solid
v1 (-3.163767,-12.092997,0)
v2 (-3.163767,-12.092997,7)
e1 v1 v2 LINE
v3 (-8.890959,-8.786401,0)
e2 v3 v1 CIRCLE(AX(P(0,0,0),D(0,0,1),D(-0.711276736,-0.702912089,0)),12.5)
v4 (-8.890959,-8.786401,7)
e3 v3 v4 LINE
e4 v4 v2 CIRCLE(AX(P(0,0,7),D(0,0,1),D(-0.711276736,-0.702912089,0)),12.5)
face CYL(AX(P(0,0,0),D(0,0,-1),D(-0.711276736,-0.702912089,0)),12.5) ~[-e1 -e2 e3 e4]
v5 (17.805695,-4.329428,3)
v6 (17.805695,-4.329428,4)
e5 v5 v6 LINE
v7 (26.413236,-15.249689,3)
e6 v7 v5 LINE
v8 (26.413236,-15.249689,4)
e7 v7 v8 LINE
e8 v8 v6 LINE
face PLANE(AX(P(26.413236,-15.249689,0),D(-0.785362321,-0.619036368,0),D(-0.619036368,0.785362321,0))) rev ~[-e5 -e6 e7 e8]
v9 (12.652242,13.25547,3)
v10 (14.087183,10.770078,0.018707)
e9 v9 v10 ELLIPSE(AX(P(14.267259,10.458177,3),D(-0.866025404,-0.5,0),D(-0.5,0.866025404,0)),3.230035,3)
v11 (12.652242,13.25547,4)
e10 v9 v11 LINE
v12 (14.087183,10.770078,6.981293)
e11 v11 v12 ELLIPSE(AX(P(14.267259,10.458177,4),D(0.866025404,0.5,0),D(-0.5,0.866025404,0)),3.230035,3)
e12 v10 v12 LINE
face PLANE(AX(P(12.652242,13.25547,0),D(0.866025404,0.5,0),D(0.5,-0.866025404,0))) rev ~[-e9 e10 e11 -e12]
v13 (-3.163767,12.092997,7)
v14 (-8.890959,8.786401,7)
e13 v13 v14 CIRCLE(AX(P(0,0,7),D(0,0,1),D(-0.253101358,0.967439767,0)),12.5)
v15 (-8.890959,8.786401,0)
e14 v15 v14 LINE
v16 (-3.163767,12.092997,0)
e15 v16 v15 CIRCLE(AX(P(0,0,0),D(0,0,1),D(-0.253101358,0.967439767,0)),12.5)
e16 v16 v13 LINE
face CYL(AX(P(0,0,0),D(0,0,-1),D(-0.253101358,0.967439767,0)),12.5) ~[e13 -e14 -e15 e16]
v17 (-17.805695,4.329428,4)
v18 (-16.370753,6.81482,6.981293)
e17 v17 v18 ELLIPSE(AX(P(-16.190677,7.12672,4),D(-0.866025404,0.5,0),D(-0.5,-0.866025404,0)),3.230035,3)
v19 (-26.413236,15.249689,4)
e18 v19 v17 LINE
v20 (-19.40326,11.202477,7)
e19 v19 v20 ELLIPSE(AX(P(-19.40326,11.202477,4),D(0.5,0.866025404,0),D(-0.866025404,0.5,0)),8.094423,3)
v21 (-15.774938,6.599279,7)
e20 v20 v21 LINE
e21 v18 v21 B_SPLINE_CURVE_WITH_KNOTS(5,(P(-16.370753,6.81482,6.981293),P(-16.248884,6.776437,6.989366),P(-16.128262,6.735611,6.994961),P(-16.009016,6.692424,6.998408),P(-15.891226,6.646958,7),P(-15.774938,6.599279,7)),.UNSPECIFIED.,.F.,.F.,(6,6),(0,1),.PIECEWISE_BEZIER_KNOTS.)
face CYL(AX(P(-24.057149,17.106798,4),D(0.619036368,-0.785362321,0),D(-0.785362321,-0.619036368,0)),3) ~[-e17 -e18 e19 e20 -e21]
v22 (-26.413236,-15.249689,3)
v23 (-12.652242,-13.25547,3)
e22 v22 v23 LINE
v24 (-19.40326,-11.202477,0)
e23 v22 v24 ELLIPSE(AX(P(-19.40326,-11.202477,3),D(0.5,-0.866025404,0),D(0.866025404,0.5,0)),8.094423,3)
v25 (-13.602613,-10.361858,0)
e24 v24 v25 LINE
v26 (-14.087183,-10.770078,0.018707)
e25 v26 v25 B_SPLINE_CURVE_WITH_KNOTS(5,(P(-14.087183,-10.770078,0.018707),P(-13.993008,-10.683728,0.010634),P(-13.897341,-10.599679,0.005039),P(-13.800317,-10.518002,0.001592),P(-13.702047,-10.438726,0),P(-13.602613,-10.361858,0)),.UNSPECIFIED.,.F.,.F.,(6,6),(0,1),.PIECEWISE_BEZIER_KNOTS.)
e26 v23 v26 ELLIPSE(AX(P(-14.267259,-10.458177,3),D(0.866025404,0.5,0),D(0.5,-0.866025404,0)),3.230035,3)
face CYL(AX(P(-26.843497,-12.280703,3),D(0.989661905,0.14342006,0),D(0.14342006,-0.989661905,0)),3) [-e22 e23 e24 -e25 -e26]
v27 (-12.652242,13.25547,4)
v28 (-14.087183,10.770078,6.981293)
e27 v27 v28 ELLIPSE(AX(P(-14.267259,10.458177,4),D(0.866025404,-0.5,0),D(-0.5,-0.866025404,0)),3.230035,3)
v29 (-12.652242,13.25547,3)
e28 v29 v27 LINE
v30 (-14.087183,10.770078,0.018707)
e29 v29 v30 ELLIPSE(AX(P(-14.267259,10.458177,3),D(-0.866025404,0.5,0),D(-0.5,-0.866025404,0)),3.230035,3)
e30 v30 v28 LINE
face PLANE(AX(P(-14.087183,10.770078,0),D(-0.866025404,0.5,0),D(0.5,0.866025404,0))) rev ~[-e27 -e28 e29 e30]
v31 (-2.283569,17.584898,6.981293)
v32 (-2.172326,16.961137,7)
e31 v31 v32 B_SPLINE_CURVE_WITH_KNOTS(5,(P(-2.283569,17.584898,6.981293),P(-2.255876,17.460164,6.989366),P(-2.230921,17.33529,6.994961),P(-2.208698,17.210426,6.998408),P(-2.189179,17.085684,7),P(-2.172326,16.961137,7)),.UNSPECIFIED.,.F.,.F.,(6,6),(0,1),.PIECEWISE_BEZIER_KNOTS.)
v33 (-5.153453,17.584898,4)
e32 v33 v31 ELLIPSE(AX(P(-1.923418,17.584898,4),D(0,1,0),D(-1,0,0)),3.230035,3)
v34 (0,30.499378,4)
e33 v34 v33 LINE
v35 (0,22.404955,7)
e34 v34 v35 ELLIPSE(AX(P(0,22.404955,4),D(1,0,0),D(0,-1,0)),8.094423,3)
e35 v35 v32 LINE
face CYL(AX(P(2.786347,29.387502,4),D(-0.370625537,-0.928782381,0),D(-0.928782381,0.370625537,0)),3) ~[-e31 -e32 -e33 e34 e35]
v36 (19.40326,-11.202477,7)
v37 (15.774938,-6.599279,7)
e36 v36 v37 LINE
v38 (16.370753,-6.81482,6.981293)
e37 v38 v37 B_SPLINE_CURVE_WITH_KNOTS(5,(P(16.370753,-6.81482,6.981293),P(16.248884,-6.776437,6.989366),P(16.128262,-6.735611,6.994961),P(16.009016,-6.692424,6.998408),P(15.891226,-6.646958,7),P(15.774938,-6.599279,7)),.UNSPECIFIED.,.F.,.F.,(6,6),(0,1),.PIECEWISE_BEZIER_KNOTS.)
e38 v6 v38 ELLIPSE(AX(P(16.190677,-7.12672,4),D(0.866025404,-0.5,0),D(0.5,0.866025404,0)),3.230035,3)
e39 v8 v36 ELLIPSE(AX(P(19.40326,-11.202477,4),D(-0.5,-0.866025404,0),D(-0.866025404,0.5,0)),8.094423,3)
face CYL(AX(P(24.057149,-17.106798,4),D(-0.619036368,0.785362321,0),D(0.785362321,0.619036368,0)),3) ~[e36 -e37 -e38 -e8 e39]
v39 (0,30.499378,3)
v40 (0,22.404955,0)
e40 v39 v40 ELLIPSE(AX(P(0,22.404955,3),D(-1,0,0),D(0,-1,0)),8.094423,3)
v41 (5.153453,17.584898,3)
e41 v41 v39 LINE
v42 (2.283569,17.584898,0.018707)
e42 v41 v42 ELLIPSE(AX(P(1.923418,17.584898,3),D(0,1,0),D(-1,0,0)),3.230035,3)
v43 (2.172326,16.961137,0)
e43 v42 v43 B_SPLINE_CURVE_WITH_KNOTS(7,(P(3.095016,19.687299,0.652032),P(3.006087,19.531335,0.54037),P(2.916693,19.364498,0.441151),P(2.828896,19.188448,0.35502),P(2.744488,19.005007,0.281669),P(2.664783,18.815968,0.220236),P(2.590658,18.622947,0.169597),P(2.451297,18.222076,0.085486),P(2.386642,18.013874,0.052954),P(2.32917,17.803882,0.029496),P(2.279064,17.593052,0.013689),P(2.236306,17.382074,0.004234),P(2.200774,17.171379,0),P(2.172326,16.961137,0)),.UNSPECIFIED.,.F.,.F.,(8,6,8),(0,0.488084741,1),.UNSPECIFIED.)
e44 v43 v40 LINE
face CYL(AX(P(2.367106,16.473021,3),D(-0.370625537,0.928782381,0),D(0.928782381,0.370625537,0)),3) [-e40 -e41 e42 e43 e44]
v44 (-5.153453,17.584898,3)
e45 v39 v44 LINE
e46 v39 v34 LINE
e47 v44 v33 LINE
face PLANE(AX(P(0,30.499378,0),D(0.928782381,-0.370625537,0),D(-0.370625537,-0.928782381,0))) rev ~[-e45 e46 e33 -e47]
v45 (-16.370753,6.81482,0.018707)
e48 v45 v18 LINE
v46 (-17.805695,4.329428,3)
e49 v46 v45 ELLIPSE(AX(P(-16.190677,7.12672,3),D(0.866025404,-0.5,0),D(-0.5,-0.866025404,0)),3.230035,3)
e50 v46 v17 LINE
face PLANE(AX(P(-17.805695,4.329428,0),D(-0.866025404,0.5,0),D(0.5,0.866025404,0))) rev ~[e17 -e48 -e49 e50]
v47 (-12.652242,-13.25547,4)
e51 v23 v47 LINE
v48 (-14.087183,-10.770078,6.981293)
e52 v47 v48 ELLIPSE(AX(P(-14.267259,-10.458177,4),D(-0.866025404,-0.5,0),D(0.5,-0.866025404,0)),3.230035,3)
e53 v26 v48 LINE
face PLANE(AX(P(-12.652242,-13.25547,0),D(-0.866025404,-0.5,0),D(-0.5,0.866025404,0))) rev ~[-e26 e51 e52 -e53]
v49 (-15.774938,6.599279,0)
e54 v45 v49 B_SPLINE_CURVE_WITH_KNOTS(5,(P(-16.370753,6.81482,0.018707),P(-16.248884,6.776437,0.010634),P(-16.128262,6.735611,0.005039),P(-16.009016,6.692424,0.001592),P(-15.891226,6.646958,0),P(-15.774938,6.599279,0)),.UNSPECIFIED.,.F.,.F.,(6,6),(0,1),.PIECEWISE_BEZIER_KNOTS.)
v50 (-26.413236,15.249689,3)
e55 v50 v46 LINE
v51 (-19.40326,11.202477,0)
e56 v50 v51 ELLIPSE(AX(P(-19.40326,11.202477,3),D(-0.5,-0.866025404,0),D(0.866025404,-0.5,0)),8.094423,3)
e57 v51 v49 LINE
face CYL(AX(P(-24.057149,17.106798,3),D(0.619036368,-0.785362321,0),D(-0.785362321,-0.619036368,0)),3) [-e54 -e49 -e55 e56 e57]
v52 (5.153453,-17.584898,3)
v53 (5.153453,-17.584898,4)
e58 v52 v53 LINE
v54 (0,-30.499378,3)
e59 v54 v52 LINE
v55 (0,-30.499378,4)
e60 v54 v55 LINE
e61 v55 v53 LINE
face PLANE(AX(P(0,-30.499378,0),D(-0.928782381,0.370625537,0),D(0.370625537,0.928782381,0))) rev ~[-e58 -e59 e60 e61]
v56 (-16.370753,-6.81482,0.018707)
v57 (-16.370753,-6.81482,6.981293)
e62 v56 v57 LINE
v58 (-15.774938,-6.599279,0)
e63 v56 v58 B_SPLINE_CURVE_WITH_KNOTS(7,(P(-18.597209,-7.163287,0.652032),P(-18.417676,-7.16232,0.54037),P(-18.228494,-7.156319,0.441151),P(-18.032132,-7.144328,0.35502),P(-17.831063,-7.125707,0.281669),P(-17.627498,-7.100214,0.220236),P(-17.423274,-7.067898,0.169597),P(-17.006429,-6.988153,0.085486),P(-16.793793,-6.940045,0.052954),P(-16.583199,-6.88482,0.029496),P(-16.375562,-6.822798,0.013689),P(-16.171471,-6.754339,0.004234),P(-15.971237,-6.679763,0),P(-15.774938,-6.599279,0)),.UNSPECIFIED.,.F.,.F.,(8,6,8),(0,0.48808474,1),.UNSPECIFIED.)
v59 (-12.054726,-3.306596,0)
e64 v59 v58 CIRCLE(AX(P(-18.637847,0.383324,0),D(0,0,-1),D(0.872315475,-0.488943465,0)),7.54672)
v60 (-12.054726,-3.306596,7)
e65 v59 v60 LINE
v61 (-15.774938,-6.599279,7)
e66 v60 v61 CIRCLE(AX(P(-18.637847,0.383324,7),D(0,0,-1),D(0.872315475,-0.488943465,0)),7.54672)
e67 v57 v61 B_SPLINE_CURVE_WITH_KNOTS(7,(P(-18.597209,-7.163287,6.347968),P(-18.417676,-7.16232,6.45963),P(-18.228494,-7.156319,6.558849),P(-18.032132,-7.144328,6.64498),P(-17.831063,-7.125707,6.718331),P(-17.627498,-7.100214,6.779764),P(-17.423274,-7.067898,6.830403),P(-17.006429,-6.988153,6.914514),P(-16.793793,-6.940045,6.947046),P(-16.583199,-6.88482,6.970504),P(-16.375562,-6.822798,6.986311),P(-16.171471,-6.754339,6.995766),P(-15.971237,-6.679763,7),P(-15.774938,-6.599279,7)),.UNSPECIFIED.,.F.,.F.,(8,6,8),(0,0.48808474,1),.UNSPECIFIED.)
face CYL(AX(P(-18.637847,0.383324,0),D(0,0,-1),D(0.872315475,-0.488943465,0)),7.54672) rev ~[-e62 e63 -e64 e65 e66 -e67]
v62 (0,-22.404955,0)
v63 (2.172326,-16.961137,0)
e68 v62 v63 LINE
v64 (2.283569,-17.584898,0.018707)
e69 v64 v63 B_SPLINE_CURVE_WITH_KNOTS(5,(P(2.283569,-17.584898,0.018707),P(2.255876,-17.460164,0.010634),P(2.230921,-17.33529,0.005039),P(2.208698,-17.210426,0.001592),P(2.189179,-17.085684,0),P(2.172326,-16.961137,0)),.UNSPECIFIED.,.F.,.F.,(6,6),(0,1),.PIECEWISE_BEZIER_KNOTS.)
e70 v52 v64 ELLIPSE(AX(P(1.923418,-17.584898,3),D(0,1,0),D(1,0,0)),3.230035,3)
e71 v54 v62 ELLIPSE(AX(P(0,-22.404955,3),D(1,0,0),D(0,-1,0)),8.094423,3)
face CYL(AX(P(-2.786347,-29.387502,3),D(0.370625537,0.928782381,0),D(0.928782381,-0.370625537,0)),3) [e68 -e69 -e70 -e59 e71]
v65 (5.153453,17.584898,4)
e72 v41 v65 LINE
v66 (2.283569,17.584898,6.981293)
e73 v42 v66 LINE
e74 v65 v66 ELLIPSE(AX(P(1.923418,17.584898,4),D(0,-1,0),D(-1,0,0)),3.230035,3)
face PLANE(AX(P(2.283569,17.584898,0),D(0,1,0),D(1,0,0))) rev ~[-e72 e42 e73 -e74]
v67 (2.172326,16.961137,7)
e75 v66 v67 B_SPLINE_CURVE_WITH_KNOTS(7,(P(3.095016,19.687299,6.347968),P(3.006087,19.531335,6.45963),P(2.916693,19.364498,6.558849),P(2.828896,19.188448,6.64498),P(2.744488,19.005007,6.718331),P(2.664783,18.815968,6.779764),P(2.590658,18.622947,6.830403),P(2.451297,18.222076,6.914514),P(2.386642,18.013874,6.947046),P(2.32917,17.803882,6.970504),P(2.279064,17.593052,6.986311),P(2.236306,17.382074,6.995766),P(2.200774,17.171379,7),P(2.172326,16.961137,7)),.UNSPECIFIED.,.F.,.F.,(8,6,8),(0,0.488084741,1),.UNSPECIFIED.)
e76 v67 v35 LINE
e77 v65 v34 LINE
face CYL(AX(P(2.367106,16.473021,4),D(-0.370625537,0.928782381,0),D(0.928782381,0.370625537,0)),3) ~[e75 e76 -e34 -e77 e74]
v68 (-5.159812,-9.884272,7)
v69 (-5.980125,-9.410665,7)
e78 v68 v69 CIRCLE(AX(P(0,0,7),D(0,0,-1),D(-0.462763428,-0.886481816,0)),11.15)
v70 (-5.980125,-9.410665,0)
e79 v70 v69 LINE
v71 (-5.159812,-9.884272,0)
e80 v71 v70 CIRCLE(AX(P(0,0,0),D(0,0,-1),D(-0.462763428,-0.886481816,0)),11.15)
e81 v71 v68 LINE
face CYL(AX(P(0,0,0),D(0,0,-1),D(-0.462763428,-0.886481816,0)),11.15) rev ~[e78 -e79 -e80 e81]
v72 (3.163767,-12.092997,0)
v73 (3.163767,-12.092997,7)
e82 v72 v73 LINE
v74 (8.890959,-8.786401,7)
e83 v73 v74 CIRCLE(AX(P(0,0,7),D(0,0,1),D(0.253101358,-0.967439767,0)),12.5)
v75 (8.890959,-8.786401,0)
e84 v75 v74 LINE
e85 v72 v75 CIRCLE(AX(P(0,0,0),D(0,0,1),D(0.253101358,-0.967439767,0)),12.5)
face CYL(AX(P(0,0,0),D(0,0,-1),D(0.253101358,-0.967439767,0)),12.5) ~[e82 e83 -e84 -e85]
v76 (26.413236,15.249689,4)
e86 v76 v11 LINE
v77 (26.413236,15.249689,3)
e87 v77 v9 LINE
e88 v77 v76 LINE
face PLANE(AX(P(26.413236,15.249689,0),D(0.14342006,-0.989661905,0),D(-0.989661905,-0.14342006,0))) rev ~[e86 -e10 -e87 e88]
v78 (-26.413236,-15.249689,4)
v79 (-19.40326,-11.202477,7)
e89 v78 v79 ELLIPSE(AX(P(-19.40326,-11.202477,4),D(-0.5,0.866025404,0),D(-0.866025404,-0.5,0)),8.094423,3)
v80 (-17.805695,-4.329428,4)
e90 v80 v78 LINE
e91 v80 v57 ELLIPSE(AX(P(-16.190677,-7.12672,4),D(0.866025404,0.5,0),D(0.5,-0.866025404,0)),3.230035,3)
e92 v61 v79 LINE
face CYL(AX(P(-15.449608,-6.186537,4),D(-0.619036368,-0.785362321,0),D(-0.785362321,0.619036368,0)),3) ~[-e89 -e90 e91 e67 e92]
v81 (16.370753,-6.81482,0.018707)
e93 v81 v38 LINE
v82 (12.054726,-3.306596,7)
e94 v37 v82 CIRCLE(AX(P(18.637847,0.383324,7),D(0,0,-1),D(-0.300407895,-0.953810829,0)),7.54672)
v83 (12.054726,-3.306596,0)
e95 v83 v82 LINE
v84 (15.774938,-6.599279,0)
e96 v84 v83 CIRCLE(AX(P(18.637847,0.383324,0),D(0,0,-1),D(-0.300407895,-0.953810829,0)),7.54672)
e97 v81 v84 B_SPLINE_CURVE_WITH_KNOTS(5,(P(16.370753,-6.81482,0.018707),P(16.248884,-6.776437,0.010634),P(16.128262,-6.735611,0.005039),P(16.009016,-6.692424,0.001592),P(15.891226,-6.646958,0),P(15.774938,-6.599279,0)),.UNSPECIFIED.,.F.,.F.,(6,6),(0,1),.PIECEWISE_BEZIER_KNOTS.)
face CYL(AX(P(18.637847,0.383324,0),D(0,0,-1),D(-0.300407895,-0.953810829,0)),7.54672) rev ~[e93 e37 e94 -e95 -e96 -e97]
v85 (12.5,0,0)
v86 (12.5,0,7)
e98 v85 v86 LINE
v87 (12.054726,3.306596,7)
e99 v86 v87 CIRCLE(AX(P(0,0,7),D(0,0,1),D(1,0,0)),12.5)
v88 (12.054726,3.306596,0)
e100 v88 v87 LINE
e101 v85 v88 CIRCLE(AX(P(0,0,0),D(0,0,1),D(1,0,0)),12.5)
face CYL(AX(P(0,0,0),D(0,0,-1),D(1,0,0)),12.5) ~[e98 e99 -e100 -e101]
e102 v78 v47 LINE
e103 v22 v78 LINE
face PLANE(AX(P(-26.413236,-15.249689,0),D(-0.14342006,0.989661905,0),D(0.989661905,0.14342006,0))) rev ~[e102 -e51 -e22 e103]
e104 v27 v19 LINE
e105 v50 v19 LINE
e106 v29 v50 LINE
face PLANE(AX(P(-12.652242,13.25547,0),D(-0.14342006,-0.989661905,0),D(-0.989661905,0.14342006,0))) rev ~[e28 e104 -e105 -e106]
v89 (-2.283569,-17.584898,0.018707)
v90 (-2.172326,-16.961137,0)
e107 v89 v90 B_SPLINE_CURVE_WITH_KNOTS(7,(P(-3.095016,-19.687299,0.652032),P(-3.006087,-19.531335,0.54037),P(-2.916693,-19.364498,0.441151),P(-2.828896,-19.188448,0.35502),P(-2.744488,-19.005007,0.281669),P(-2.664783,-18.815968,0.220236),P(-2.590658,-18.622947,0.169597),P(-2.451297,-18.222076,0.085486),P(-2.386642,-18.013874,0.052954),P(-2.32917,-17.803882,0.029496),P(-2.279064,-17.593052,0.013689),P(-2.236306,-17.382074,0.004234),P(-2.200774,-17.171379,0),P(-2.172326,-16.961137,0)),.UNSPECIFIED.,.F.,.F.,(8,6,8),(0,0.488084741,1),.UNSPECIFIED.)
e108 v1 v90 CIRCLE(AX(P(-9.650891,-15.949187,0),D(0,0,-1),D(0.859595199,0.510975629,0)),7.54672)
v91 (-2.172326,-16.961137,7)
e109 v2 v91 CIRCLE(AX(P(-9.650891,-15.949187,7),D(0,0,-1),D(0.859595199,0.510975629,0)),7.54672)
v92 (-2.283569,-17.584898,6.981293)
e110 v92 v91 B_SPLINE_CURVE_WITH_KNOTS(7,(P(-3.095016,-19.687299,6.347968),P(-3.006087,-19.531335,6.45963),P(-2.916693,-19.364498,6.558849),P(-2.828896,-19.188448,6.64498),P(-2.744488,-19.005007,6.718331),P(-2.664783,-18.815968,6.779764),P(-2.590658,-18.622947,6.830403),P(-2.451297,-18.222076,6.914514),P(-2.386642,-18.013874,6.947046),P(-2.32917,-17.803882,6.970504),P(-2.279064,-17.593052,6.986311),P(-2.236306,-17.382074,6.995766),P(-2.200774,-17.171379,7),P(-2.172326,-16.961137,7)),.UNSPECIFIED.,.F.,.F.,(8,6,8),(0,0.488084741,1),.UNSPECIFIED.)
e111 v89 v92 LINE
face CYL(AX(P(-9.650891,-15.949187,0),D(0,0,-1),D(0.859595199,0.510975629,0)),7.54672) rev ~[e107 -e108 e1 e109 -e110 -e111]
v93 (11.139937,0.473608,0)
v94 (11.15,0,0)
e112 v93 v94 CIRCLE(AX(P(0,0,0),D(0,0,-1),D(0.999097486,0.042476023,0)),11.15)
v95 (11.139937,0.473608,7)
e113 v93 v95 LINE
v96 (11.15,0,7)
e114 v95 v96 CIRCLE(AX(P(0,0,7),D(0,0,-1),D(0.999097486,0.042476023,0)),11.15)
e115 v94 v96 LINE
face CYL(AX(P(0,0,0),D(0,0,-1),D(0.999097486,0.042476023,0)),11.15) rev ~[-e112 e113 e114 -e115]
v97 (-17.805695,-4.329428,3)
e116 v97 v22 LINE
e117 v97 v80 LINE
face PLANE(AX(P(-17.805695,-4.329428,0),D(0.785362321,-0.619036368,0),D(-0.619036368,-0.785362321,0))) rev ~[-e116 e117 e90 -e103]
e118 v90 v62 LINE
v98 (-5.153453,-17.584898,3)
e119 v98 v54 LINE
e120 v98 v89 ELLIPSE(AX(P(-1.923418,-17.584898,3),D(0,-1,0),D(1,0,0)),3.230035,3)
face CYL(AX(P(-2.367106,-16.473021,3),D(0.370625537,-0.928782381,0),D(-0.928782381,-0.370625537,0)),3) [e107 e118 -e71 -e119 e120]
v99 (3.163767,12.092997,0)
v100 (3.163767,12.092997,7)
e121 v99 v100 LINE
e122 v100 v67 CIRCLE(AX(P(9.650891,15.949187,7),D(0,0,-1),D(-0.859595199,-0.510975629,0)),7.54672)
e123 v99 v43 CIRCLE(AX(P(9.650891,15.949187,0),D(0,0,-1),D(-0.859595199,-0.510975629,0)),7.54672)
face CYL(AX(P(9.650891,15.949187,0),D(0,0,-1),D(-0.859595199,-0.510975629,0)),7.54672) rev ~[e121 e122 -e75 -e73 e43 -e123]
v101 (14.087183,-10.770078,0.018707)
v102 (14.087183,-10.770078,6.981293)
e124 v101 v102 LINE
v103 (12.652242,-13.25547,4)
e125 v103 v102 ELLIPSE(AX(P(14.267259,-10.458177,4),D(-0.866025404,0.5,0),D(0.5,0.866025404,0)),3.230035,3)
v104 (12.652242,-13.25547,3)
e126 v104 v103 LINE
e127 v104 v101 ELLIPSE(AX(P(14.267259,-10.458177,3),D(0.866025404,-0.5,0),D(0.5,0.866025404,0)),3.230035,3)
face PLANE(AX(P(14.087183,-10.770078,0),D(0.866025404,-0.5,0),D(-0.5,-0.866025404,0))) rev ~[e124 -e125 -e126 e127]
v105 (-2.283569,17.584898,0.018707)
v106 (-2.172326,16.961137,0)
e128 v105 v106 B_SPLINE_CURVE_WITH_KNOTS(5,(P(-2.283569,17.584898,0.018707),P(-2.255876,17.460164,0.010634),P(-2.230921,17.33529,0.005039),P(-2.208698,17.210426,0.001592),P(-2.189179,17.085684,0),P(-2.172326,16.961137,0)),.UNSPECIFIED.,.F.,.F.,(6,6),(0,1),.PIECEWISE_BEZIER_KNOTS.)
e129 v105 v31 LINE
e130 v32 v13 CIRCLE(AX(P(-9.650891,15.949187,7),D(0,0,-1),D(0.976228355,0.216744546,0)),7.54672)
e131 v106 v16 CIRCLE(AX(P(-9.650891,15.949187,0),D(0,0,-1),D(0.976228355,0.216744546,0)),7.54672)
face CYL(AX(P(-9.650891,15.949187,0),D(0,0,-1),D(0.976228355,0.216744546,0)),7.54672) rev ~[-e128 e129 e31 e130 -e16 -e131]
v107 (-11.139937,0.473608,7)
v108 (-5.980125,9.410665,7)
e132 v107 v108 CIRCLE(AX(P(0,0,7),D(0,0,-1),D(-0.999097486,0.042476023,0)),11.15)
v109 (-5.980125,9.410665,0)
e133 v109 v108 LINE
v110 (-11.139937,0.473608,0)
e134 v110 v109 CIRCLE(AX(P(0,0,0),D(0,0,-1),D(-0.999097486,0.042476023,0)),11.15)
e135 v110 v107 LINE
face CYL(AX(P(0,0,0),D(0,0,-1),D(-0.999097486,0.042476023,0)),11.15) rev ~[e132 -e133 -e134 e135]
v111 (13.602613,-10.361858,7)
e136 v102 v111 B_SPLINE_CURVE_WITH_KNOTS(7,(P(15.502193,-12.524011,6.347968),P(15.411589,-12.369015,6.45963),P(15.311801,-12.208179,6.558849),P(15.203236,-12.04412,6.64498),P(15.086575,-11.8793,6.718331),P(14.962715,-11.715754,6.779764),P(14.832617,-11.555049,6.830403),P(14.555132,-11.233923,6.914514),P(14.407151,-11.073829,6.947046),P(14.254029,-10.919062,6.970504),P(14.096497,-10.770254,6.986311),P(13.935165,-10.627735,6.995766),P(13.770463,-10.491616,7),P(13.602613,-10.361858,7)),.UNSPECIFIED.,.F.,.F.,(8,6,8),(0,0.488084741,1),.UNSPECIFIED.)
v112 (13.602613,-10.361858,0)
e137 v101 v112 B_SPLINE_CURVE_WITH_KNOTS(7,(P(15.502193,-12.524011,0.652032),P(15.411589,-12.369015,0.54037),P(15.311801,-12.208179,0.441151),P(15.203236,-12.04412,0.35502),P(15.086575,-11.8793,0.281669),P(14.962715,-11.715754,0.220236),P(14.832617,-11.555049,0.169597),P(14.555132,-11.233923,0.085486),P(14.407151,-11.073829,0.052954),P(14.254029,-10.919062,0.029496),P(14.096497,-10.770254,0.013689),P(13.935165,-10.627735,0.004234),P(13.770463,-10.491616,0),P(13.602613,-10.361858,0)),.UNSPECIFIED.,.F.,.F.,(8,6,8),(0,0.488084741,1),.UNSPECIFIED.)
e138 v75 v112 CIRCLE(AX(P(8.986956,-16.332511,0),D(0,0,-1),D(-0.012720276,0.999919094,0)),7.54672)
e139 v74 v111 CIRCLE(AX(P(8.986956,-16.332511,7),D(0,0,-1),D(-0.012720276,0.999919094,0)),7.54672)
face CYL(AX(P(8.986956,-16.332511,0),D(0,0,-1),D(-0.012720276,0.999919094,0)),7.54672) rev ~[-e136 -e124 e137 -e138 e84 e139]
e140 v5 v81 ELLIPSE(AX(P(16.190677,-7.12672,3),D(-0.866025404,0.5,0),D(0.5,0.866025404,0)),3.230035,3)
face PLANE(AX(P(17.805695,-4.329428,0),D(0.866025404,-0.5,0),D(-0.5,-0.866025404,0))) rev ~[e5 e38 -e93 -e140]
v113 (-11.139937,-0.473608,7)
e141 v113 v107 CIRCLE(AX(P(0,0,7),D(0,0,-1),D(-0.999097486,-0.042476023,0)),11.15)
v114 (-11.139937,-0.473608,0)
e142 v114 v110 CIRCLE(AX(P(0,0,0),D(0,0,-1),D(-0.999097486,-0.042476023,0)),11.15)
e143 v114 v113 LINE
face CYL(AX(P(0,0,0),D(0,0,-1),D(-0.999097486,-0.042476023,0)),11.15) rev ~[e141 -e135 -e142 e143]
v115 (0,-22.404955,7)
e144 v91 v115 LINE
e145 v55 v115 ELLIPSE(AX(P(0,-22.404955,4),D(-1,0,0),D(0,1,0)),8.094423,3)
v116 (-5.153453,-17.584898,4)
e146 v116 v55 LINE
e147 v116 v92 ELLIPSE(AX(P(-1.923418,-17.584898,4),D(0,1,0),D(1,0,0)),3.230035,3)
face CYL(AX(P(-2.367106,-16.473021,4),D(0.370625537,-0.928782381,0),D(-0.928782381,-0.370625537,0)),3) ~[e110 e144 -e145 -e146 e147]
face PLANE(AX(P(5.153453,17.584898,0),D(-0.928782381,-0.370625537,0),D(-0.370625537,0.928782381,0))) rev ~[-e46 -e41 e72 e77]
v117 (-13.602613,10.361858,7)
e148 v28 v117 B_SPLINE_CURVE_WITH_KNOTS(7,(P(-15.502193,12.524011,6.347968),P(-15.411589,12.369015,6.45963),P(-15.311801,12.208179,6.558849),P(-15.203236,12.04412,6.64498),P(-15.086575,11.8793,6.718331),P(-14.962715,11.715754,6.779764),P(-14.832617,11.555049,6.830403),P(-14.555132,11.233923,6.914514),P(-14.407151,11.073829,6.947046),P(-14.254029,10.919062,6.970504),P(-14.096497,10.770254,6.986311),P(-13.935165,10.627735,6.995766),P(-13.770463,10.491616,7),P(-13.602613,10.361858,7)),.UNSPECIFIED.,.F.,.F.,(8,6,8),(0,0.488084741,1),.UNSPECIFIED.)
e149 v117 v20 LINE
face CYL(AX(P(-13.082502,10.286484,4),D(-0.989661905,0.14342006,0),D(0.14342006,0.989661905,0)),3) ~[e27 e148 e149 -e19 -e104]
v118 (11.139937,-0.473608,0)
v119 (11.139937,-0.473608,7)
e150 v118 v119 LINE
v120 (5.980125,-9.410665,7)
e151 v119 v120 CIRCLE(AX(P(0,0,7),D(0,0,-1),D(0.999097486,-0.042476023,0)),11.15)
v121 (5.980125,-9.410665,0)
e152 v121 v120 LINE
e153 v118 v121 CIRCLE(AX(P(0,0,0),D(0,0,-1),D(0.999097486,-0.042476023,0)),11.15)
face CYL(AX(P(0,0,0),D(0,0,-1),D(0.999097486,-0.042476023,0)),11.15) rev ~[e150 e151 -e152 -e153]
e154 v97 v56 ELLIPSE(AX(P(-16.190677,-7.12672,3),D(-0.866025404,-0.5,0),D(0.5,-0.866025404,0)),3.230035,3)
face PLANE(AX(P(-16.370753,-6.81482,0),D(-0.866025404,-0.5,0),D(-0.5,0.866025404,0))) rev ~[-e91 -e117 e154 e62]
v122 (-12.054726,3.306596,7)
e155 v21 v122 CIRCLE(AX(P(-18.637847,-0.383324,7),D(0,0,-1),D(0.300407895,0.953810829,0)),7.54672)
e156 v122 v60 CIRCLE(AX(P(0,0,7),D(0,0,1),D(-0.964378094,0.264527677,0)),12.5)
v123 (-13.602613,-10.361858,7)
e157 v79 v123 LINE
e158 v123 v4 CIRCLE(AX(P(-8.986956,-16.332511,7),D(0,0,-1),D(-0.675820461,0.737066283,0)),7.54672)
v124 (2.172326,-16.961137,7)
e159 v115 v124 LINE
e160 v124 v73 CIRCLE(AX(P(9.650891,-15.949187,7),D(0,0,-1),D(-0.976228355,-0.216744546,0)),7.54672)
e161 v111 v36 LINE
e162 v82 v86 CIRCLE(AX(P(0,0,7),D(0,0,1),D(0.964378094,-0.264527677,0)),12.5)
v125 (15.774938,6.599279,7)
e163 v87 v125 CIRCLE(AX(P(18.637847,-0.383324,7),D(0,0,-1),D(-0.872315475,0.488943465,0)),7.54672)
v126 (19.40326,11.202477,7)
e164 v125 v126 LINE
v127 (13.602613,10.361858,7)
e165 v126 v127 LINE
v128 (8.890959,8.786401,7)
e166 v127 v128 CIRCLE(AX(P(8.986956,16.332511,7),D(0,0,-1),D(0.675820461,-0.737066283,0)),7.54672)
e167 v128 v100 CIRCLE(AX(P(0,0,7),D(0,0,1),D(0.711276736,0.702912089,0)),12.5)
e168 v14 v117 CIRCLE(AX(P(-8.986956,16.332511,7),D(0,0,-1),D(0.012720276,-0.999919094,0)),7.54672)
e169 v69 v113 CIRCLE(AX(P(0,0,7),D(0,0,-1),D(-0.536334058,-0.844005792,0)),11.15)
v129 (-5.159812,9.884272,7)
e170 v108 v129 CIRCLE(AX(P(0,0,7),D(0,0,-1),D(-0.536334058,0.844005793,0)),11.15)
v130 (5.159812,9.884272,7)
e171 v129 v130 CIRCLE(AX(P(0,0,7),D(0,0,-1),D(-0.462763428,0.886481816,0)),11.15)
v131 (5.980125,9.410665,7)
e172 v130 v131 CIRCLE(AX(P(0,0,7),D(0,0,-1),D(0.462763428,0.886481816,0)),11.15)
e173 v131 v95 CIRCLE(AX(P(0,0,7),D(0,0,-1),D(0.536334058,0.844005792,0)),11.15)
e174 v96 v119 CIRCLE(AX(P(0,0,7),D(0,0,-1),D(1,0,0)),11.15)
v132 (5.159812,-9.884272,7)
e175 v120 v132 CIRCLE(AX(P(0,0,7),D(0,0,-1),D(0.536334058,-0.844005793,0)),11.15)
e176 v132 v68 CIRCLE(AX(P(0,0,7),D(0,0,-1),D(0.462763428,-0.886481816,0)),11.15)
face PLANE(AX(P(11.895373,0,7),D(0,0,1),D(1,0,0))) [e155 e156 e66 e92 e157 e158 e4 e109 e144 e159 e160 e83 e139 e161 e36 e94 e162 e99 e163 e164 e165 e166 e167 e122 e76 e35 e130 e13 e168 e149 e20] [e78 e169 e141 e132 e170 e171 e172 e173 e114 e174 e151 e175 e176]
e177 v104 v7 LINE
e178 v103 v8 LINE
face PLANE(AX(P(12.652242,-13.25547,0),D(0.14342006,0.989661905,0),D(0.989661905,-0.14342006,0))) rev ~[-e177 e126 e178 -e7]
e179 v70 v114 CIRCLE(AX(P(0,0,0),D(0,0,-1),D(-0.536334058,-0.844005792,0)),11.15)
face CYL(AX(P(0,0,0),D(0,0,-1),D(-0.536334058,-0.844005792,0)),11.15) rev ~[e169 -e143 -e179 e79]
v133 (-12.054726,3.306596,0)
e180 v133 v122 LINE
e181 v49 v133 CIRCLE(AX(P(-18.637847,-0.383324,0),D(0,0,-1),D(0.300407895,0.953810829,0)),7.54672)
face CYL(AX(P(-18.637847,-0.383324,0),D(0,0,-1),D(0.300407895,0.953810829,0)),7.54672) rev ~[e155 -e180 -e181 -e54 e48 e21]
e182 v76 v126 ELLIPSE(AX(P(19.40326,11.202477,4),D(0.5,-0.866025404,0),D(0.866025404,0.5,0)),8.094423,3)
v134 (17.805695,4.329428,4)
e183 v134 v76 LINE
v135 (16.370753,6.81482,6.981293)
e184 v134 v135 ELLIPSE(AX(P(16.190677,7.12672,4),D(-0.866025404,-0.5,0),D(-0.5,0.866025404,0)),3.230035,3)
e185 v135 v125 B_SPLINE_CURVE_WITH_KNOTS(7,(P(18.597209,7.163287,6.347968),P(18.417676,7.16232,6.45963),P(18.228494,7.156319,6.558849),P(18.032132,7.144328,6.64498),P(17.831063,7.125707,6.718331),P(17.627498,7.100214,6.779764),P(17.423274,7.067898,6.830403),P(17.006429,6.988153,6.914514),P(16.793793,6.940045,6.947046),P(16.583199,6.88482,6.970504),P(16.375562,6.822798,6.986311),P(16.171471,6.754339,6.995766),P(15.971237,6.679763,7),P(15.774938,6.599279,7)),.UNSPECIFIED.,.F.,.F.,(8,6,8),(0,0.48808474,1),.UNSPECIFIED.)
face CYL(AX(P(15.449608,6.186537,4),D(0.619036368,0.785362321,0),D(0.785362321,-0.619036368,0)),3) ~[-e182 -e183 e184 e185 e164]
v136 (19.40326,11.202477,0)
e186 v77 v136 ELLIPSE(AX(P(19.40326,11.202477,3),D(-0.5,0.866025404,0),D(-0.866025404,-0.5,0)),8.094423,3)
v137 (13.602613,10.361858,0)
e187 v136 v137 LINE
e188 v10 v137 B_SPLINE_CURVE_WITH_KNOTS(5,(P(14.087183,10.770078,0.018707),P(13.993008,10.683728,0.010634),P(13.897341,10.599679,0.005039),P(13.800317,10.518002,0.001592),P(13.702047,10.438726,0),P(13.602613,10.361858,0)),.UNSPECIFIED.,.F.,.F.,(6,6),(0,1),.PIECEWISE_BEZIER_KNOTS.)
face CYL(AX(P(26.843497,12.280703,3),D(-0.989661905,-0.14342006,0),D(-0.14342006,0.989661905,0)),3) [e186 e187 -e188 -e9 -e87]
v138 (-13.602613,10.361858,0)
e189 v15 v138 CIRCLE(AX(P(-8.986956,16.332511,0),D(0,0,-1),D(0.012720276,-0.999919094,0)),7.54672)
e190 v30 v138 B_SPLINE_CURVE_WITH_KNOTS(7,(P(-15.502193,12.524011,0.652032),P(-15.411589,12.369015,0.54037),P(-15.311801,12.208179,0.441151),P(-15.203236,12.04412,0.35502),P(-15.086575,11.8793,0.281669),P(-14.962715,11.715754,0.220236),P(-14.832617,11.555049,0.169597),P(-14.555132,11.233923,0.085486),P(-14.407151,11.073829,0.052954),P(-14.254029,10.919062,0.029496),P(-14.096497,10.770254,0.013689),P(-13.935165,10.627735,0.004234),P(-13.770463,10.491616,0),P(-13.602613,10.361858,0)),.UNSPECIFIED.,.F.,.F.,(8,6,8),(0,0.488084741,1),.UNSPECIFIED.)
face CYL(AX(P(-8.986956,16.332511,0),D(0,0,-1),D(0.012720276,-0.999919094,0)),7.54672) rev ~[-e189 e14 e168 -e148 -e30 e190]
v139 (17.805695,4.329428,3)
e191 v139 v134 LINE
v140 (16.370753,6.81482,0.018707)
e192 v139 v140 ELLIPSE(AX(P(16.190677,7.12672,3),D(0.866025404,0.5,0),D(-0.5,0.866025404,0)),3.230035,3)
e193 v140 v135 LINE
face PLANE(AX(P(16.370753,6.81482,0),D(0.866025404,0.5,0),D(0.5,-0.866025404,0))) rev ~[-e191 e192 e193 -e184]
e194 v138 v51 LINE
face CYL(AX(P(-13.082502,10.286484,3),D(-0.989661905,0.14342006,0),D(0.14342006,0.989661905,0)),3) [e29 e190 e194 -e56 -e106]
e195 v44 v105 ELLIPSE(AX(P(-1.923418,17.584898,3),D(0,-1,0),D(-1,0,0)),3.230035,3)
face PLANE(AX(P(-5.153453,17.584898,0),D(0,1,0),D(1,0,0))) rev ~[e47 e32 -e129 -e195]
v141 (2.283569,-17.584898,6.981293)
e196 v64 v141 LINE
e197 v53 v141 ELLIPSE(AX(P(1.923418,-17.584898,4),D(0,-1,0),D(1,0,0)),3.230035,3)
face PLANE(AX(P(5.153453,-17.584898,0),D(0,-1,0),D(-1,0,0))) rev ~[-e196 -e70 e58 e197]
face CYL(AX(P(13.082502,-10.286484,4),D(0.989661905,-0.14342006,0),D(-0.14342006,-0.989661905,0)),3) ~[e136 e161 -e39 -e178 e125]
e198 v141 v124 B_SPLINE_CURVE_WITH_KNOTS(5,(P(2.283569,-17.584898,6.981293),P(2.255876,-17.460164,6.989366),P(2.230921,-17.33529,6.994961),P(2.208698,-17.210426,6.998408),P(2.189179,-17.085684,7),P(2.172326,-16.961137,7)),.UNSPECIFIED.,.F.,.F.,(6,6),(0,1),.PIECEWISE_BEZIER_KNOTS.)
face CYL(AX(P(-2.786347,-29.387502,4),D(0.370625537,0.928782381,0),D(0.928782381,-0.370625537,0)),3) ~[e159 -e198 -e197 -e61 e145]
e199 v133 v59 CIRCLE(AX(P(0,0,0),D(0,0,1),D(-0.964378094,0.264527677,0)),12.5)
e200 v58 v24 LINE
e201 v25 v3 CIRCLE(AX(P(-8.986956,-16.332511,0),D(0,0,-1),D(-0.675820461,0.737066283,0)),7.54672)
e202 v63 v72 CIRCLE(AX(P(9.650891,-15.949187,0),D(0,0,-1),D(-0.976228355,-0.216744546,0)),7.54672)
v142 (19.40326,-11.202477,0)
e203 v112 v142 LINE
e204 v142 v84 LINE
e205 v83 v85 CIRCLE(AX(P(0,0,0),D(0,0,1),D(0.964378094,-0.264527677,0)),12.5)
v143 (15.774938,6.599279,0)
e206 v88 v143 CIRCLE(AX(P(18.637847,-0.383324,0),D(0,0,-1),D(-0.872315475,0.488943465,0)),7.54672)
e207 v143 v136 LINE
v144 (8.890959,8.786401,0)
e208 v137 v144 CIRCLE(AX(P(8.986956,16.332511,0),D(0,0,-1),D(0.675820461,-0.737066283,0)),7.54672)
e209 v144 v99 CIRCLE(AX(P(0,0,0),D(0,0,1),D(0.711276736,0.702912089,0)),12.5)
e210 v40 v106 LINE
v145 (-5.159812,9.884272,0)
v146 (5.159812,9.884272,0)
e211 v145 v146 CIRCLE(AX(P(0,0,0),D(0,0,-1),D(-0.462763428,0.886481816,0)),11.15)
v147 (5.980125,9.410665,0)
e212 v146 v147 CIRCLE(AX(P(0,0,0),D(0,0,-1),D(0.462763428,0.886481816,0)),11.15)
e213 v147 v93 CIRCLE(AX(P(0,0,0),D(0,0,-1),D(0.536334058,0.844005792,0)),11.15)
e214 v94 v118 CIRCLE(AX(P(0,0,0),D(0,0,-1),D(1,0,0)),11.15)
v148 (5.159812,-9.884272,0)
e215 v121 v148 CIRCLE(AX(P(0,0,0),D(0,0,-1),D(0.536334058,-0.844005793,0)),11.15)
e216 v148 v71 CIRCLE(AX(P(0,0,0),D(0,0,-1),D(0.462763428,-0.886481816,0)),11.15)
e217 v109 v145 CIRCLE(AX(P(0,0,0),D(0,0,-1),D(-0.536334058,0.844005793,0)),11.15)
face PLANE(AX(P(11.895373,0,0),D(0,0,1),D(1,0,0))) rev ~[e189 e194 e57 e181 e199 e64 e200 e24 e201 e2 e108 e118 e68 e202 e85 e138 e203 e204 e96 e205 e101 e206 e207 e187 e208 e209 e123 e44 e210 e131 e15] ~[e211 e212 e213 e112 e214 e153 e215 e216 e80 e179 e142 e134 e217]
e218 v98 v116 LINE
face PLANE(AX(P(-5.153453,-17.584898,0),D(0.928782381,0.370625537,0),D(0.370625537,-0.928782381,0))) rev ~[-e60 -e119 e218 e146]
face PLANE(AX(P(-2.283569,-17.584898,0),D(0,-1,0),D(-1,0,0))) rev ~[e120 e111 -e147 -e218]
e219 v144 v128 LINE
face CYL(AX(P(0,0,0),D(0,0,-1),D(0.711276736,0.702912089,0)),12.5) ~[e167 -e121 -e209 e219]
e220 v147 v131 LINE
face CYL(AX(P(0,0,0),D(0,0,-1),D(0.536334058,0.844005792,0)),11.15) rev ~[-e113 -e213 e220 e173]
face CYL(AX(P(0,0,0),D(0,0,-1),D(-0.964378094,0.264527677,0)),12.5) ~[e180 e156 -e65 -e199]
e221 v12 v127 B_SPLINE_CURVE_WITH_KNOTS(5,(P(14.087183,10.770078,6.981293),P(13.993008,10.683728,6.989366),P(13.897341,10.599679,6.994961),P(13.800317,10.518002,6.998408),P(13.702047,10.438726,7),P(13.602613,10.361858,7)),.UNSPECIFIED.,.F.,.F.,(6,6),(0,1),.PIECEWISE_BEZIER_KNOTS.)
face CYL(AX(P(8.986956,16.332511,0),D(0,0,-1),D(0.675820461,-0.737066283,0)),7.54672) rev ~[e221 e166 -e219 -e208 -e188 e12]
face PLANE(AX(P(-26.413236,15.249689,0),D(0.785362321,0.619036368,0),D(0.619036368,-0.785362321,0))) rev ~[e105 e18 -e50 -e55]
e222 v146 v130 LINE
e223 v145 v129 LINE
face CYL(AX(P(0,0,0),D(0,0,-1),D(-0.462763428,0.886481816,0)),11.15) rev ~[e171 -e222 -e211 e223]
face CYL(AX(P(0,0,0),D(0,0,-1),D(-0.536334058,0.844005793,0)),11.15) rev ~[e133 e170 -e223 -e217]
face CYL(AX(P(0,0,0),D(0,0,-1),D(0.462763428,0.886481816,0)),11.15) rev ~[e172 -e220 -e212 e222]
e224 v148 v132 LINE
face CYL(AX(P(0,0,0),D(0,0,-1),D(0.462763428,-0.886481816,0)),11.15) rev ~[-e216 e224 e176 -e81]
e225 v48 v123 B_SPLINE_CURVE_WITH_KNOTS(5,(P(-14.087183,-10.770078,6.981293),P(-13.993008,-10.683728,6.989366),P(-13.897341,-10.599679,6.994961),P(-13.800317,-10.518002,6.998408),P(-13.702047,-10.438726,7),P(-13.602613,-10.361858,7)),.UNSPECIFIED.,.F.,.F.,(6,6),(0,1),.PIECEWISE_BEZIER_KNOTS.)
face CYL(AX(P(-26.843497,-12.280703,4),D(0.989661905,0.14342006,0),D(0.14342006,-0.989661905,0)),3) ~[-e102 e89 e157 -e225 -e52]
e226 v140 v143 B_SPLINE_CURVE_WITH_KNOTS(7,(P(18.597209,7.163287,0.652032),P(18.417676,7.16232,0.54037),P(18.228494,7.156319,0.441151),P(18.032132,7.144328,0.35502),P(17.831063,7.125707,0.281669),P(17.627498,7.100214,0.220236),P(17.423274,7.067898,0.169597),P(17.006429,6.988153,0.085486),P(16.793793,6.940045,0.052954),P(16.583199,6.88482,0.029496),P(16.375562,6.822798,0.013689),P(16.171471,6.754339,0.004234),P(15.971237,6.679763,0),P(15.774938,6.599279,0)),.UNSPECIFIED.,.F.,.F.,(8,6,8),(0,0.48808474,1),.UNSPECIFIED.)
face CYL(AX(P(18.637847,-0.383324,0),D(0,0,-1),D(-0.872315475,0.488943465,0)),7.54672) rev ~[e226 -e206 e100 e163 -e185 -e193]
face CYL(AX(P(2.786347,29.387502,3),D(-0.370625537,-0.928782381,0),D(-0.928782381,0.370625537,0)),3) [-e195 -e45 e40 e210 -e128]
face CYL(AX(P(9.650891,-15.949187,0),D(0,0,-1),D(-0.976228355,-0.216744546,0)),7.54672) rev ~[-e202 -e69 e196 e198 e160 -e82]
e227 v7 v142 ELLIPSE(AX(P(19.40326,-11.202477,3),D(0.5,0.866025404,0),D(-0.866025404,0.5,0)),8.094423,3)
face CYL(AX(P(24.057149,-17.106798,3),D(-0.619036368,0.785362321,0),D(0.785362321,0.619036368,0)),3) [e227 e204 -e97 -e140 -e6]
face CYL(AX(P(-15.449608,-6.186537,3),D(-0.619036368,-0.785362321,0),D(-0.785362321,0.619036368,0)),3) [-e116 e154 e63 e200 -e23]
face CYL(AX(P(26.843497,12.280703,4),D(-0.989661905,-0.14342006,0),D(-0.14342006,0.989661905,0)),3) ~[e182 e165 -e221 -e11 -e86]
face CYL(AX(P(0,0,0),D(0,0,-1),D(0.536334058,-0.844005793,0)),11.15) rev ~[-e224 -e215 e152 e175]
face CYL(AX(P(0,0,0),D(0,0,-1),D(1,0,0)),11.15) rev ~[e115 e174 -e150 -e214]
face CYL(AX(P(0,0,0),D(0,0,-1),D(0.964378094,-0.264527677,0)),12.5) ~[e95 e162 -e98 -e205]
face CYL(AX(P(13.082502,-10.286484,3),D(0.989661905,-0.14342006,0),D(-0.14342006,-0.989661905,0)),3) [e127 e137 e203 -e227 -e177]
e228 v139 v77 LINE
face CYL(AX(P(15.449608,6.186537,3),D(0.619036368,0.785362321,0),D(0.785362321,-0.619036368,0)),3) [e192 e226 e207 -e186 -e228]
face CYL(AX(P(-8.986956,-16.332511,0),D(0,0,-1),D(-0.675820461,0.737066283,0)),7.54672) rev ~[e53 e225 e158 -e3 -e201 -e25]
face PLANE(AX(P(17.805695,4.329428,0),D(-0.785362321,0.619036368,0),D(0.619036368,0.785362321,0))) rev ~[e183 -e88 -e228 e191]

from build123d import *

# Parameters (mm, degrees)
F1_DEPTH = 7
F2_R     = 3


with BuildPart() as f1:
    # F0 (on Top) → F1 (new body)
    with BuildSketch(Plane.XY):
        with BuildLine():
            ThreePointArc((11.139936974, 0.4736076595), (11.1474839596, 0.2368572775), (11.15, 0))
            ThreePointArc((11.15, 0), (11.1474839596, -0.2368572775), (11.139936974, -0.4736076595))
            ThreePointArc((11.139936974, -0.4736076595), (11.4562515521, -1.9356574125), (12.0547261732, -3.306595967))
            ThreePointArc((12.0547261732, -3.306595967), (12.3881814074, -1.6682210338), (12.5, 0))
            ThreePointArc((12.5, 0), (12.3881814074, 1.6682210338), (12.0547261732, 3.306595967))
            ThreePointArc((12.0547261732, 3.306595967), (11.4562515521, 1.9356574125), (11.139936974, 0.4736076595))
        make_face()
        with BuildLine():
            ThreePointArc((5.9801247516, 9.4106645863), (9.6561832522, 5.575), (11.139936974, 0.4736076595))
            ThreePointArc((11.139936974, 0.4736076595), (11.4562515521, 1.9356574125), (12.0547261732, 3.306595967))
            ThreePointArc((12.0547261732, 3.306595967), (10.8253175473, 6.25), (8.8909591941, 8.7864011181))
            ThreePointArc((8.8909591941, 8.7864011181), (7.4044542683, 8.9535761701), (5.9801247516, 9.4106645863))
        make_face()
        with BuildLine():
            ThreePointArc((12.0547261732, -3.306595967), (11.4562515521, -1.9356574125), (11.139936974, -0.4736076595))
            ThreePointArc((11.139936974, -0.4736076595), (9.6561832522, -5.575), (5.9801247516, -9.4106645863))
            ThreePointArc((5.9801247516, -9.4106645863), (7.4044542683, -8.9535761701), (8.8909591941, -8.7864011181))
            ThreePointArc((8.8909591941, -8.7864011181), (10.8253175473, -6.25), (12.0547261732, -3.306595967))
        make_face()
        with BuildLine():
            ThreePointArc((5.1598122224, 9.8842722458), (5.575, 9.6561832522), (5.9801247516, 9.4106645863))
            ThreePointArc((5.9801247516, 9.4106645863), (7.4044542683, 8.9535761701), (8.8909591941, 8.7864011181))
            ThreePointArc((8.8909591941, 8.7864011181), (6.25, 10.8253175473), (3.1637669791, 12.0929970852))
            ThreePointArc((3.1637669791, 12.0929970852), (4.0517972839, 10.8892335825), (5.1598122224, 9.8842722458))
        make_face()
        with BuildLine():
            ThreePointArc((8.8909591941, 8.7864011181), (10.8253175473, 6.25), (12.0547261732, 3.306595967))
            ThreePointArc((12.0547261732, 3.306595967), (13.8777539277, 5.4728270333), (16.3707526215, 6.8148198569))
            Line((16.3707526215, 6.8148198569), (17.8056945141, 4.3294275931))
            Line((17.8056945141, 4.3294275931), (26.4132363375, 15.2496891096))
            Line((26.4132363375, 15.2496891096), (12.6522415365, 13.2554699846))
            Line((12.6522415365, 13.2554699846), (14.087183429, 10.7700777209))
            ThreePointArc((14.087183429, 10.7700777209), (11.6784842052, 9.2820739322), (8.8909591941, 8.7864011181))
        make_face()
        with BuildLine():
            ThreePointArc((8.8909591941, -8.7864011181), (7.4044542683, -8.9535761701), (5.9801247516, -9.4106645863))
            ThreePointArc((5.9801247516, -9.4106645863), (5.575, -9.6561832522), (5.1598122224, -9.8842722458))
            ThreePointArc((5.1598122224, -9.8842722458), (4.0517972839, -10.8892335825), (3.1637669791, -12.0929970852))
            ThreePointArc((3.1637669791, -12.0929970852), (6.25, -10.8253175473), (8.8909591941, -8.7864011181))
        make_face()
        with BuildLine():
            ThreePointArc((16.3707526215, -6.8148198569), (13.8777539277, -5.4728270333), (12.0547261732, -3.306595967))
            ThreePointArc((12.0547261732, -3.306595967), (10.8253175473, -6.25), (8.8909591941, -8.7864011181))
            ThreePointArc((8.8909591941, -8.7864011181), (11.6784842052, -9.2820739322), (14.087183429, -10.7700777209))
            Line((14.087183429, -10.7700777209), (12.6522415365, -13.2554699846))
            Line((12.6522415365, -13.2554699846), (26.4132363375, -15.2496891096))
            Line((26.4132363375, -15.2496891096), (17.8056945141, -4.3294275931))
            Line((17.8056945141, -4.3294275931), (16.3707526215, -6.8148198569))
        make_face()
        with BuildLine():
            ThreePointArc((-5.1598122224, 9.8842722458), (0, 11.15), (5.1598122224, 9.8842722458))
            ThreePointArc((5.1598122224, 9.8842722458), (4.0517972839, 10.8892335825), (3.1637669791, 12.0929970852))
            ThreePointArc((3.1637669791, 12.0929970852), (0, 12.5), (-3.1637669791, 12.0929970852))
            ThreePointArc((-3.1637669791, 12.0929970852), (-4.0517972839, 10.8892335825), (-5.1598122224, 9.8842722458))
        make_face()
        with BuildLine():
            ThreePointArc((3.1637669791, -12.0929970852), (4.0517972839, -10.8892335825), (5.1598122224, -9.8842722458))
            ThreePointArc((5.1598122224, -9.8842722458), (0, -11.15), (-5.1598122224, -9.8842722458))
            ThreePointArc((-5.1598122224, -9.8842722458), (-4.0517972839, -10.8892335825), (-3.1637669791, -12.0929970852))
            ThreePointArc((-3.1637669791, -12.0929970852), (0, -12.5), (3.1637669791, -12.0929970852))
        make_face()
        with BuildLine():
            ThreePointArc((-5.9801247516, 9.4106645863), (-5.575, 9.6561832522), (-5.1598122224, 9.8842722458))
            ThreePointArc((-5.1598122224, 9.8842722458), (-4.0517972839, 10.8892335825), (-3.1637669791, 12.0929970852))
            ThreePointArc((-3.1637669791, 12.0929970852), (-6.25, 10.8253175473), (-8.8909591941, 8.7864011181))
            ThreePointArc((-8.8909591941, 8.7864011181), (-7.4044542683, 8.9535761701), (-5.9801247516, 9.4106645863))
        make_face()
        with BuildLine():
            ThreePointArc((-3.1637669791, 12.0929970852), (0, 12.5), (3.1637669791, 12.0929970852))
            ThreePointArc((3.1637669791, 12.0929970852), (2.1992697225, 14.7549009655), (2.2835691925, 17.5848975778))
            Line((2.2835691925, 17.5848975778), (5.1534529775, 17.5848975778))
            Line((5.1534529775, 17.5848975778), (0, 30.4993782192))
            Line((0, 30.4993782192), (-5.1534529775, 17.5848975778))
            Line((-5.1534529775, 17.5848975778), (-2.2835691925, 17.5848975778))
            ThreePointArc((-2.2835691925, 17.5848975778), (-2.1992697225, 14.7549009655), (-3.1637669791, 12.0929970852))
        make_face()
        with BuildLine():
            ThreePointArc((-3.1637669791, -12.0929970852), (-4.0517972839, -10.8892335825), (-5.1598122224, -9.8842722458))
            ThreePointArc((-5.1598122224, -9.8842722458), (-5.575, -9.6561832522), (-5.9801247516, -9.4106645863))
            ThreePointArc((-5.9801247516, -9.4106645863), (-7.4044542683, -8.9535761701), (-8.8909591941, -8.7864011181))
            ThreePointArc((-8.8909591941, -8.7864011181), (-6.25, -10.8253175473), (-3.1637669791, -12.0929970852))
        make_face()
        with BuildLine():
            ThreePointArc((2.2835691925, -17.5848975778), (2.1992697225, -14.7549009655), (3.1637669791, -12.0929970852))
            ThreePointArc((3.1637669791, -12.0929970852), (0, -12.5), (-3.1637669791, -12.0929970852))
            ThreePointArc((-3.1637669791, -12.0929970852), (-2.1992697225, -14.7549009655), (-2.2835691925, -17.5848975778))
            Line((-2.2835691925, -17.5848975778), (-5.1534529775, -17.5848975778))
            Line((-5.1534529775, -17.5848975778), (0, -30.4993782192))
            Line((0, -30.4993782192), (5.1534529775, -17.5848975778))
            Line((5.1534529775, -17.5848975778), (2.2835691925, -17.5848975778))
        make_face()
        with BuildLine():
            ThreePointArc((-11.139936974, 0.4736076595), (-9.6561832522, 5.575), (-5.9801247516, 9.4106645863))
            ThreePointArc((-5.9801247516, 9.4106645863), (-7.4044542683, 8.9535761701), (-8.8909591941, 8.7864011181))
            ThreePointArc((-8.8909591941, 8.7864011181), (-10.8253175473, 6.25), (-12.0547261732, 3.306595967))
            ThreePointArc((-12.0547261732, 3.306595967), (-11.4562515521, 1.9356574125), (-11.139936974, 0.4736076595))
        make_face()
        with BuildLine():
            ThreePointArc((-8.8909591941, -8.7864011181), (-7.4044542683, -8.9535761701), (-5.9801247516, -9.4106645863))
            ThreePointArc((-5.9801247516, -9.4106645863), (-9.6561832522, -5.575), (-11.139936974, -0.4736076595))
            ThreePointArc((-11.139936974, -0.4736076595), (-11.4562515521, -1.9356574125), (-12.0547261732, -3.306595967))
            ThreePointArc((-12.0547261732, -3.306595967), (-10.8253175473, -6.25), (-8.8909591941, -8.7864011181))
        make_face()
        with BuildLine():
            ThreePointArc((-11.139936974, -0.4736076595), (-11.15, 0), (-11.139936974, 0.4736076595))
            ThreePointArc((-11.139936974, 0.4736076595), (-11.4562515521, 1.9356574125), (-12.0547261732, 3.306595967))
            ThreePointArc((-12.0547261732, 3.306595967), (-12.5, 0), (-12.0547261732, -3.306595967))
            ThreePointArc((-12.0547261732, -3.306595967), (-11.4562515521, -1.9356574125), (-11.139936974, -0.4736076595))
        make_face()
        with BuildLine():
            ThreePointArc((-12.0547261732, 3.306595967), (-10.8253175473, 6.25), (-8.8909591941, 8.7864011181))
            ThreePointArc((-8.8909591941, 8.7864011181), (-11.6784842052, 9.2820739322), (-14.087183429, 10.7700777209))
            Line((-14.087183429, 10.7700777209), (-12.6522415365, 13.2554699846))
            Line((-12.6522415365, 13.2554699846), (-26.4132363375, 15.2496891096))
            Line((-26.4132363375, 15.2496891096), (-17.8056945141, 4.3294275931))
            Line((-17.8056945141, 4.3294275931), (-16.3707526215, 6.8148198569))
            ThreePointArc((-16.3707526215, 6.8148198569), (-13.8777539277, 5.4728270333), (-12.0547261732, 3.306595967))
        make_face()
        with BuildLine():
            ThreePointArc((-14.087183429, -10.7700777209), (-11.6784842052, -9.2820739322), (-8.8909591941, -8.7864011181))
            ThreePointArc((-8.8909591941, -8.7864011181), (-10.8253175473, -6.25), (-12.0547261732, -3.306595967))
            ThreePointArc((-12.0547261732, -3.306595967), (-13.8777539277, -5.4728270333), (-16.3707526215, -6.8148198569))
            Line((-16.3707526215, -6.8148198569), (-17.8056945141, -4.3294275931))
            Line((-17.8056945141, -4.3294275931), (-26.4132363375, -15.2496891096))
            Line((-26.4132363375, -15.2496891096), (-12.6522415365, -13.2554699846))
            Line((-12.6522415365, -13.2554699846), (-14.087183429, -10.7700777209))
        make_face()
    extrude(amount=F1_DEPTH)

    # F2
    f2_edges = [f1.edges().sort_by_distance(p)[0] for p in [
        (-19.532739, -14.25258, 0),
        (-22.109465, -9.789558, 0),
        (-22.109465, 9.789558, 0),
        (-19.532739, 14.25258, 0),
        (-2.576726, 24.042138, 0),
        (19.532739, 14.25258, 0),
        (22.109465, 9.789558, 0),
        (22.109465, -9.789558, 0),
        (19.532739, -14.25258, 0),
        (-2.576726, -24.042138, 0),
        (2.576726, -24.042138, 0),
        (2.576726, 24.042138, 0),
        (-19.532739, 14.25258, 7),
        (-22.109465, 9.789558, 7),
        (-2.576726, 24.042138, 7),
        (2.576726, 24.042138, 7),
        (22.109465, 9.789558, 7),
        (22.109465, -9.789558, 7),
        (19.532739, -14.25258, 7),
        (2.576726, -24.042138, 7),
        (-2.576726, -24.042138, 7),
        (-22.109465, -9.789558, 7),
        (-19.532739, -14.25258, 7),
        (19.532739, 14.25258, 7),
    ]]
    fillet(f2_edges, radius=F2_R)


solid = f1.part
